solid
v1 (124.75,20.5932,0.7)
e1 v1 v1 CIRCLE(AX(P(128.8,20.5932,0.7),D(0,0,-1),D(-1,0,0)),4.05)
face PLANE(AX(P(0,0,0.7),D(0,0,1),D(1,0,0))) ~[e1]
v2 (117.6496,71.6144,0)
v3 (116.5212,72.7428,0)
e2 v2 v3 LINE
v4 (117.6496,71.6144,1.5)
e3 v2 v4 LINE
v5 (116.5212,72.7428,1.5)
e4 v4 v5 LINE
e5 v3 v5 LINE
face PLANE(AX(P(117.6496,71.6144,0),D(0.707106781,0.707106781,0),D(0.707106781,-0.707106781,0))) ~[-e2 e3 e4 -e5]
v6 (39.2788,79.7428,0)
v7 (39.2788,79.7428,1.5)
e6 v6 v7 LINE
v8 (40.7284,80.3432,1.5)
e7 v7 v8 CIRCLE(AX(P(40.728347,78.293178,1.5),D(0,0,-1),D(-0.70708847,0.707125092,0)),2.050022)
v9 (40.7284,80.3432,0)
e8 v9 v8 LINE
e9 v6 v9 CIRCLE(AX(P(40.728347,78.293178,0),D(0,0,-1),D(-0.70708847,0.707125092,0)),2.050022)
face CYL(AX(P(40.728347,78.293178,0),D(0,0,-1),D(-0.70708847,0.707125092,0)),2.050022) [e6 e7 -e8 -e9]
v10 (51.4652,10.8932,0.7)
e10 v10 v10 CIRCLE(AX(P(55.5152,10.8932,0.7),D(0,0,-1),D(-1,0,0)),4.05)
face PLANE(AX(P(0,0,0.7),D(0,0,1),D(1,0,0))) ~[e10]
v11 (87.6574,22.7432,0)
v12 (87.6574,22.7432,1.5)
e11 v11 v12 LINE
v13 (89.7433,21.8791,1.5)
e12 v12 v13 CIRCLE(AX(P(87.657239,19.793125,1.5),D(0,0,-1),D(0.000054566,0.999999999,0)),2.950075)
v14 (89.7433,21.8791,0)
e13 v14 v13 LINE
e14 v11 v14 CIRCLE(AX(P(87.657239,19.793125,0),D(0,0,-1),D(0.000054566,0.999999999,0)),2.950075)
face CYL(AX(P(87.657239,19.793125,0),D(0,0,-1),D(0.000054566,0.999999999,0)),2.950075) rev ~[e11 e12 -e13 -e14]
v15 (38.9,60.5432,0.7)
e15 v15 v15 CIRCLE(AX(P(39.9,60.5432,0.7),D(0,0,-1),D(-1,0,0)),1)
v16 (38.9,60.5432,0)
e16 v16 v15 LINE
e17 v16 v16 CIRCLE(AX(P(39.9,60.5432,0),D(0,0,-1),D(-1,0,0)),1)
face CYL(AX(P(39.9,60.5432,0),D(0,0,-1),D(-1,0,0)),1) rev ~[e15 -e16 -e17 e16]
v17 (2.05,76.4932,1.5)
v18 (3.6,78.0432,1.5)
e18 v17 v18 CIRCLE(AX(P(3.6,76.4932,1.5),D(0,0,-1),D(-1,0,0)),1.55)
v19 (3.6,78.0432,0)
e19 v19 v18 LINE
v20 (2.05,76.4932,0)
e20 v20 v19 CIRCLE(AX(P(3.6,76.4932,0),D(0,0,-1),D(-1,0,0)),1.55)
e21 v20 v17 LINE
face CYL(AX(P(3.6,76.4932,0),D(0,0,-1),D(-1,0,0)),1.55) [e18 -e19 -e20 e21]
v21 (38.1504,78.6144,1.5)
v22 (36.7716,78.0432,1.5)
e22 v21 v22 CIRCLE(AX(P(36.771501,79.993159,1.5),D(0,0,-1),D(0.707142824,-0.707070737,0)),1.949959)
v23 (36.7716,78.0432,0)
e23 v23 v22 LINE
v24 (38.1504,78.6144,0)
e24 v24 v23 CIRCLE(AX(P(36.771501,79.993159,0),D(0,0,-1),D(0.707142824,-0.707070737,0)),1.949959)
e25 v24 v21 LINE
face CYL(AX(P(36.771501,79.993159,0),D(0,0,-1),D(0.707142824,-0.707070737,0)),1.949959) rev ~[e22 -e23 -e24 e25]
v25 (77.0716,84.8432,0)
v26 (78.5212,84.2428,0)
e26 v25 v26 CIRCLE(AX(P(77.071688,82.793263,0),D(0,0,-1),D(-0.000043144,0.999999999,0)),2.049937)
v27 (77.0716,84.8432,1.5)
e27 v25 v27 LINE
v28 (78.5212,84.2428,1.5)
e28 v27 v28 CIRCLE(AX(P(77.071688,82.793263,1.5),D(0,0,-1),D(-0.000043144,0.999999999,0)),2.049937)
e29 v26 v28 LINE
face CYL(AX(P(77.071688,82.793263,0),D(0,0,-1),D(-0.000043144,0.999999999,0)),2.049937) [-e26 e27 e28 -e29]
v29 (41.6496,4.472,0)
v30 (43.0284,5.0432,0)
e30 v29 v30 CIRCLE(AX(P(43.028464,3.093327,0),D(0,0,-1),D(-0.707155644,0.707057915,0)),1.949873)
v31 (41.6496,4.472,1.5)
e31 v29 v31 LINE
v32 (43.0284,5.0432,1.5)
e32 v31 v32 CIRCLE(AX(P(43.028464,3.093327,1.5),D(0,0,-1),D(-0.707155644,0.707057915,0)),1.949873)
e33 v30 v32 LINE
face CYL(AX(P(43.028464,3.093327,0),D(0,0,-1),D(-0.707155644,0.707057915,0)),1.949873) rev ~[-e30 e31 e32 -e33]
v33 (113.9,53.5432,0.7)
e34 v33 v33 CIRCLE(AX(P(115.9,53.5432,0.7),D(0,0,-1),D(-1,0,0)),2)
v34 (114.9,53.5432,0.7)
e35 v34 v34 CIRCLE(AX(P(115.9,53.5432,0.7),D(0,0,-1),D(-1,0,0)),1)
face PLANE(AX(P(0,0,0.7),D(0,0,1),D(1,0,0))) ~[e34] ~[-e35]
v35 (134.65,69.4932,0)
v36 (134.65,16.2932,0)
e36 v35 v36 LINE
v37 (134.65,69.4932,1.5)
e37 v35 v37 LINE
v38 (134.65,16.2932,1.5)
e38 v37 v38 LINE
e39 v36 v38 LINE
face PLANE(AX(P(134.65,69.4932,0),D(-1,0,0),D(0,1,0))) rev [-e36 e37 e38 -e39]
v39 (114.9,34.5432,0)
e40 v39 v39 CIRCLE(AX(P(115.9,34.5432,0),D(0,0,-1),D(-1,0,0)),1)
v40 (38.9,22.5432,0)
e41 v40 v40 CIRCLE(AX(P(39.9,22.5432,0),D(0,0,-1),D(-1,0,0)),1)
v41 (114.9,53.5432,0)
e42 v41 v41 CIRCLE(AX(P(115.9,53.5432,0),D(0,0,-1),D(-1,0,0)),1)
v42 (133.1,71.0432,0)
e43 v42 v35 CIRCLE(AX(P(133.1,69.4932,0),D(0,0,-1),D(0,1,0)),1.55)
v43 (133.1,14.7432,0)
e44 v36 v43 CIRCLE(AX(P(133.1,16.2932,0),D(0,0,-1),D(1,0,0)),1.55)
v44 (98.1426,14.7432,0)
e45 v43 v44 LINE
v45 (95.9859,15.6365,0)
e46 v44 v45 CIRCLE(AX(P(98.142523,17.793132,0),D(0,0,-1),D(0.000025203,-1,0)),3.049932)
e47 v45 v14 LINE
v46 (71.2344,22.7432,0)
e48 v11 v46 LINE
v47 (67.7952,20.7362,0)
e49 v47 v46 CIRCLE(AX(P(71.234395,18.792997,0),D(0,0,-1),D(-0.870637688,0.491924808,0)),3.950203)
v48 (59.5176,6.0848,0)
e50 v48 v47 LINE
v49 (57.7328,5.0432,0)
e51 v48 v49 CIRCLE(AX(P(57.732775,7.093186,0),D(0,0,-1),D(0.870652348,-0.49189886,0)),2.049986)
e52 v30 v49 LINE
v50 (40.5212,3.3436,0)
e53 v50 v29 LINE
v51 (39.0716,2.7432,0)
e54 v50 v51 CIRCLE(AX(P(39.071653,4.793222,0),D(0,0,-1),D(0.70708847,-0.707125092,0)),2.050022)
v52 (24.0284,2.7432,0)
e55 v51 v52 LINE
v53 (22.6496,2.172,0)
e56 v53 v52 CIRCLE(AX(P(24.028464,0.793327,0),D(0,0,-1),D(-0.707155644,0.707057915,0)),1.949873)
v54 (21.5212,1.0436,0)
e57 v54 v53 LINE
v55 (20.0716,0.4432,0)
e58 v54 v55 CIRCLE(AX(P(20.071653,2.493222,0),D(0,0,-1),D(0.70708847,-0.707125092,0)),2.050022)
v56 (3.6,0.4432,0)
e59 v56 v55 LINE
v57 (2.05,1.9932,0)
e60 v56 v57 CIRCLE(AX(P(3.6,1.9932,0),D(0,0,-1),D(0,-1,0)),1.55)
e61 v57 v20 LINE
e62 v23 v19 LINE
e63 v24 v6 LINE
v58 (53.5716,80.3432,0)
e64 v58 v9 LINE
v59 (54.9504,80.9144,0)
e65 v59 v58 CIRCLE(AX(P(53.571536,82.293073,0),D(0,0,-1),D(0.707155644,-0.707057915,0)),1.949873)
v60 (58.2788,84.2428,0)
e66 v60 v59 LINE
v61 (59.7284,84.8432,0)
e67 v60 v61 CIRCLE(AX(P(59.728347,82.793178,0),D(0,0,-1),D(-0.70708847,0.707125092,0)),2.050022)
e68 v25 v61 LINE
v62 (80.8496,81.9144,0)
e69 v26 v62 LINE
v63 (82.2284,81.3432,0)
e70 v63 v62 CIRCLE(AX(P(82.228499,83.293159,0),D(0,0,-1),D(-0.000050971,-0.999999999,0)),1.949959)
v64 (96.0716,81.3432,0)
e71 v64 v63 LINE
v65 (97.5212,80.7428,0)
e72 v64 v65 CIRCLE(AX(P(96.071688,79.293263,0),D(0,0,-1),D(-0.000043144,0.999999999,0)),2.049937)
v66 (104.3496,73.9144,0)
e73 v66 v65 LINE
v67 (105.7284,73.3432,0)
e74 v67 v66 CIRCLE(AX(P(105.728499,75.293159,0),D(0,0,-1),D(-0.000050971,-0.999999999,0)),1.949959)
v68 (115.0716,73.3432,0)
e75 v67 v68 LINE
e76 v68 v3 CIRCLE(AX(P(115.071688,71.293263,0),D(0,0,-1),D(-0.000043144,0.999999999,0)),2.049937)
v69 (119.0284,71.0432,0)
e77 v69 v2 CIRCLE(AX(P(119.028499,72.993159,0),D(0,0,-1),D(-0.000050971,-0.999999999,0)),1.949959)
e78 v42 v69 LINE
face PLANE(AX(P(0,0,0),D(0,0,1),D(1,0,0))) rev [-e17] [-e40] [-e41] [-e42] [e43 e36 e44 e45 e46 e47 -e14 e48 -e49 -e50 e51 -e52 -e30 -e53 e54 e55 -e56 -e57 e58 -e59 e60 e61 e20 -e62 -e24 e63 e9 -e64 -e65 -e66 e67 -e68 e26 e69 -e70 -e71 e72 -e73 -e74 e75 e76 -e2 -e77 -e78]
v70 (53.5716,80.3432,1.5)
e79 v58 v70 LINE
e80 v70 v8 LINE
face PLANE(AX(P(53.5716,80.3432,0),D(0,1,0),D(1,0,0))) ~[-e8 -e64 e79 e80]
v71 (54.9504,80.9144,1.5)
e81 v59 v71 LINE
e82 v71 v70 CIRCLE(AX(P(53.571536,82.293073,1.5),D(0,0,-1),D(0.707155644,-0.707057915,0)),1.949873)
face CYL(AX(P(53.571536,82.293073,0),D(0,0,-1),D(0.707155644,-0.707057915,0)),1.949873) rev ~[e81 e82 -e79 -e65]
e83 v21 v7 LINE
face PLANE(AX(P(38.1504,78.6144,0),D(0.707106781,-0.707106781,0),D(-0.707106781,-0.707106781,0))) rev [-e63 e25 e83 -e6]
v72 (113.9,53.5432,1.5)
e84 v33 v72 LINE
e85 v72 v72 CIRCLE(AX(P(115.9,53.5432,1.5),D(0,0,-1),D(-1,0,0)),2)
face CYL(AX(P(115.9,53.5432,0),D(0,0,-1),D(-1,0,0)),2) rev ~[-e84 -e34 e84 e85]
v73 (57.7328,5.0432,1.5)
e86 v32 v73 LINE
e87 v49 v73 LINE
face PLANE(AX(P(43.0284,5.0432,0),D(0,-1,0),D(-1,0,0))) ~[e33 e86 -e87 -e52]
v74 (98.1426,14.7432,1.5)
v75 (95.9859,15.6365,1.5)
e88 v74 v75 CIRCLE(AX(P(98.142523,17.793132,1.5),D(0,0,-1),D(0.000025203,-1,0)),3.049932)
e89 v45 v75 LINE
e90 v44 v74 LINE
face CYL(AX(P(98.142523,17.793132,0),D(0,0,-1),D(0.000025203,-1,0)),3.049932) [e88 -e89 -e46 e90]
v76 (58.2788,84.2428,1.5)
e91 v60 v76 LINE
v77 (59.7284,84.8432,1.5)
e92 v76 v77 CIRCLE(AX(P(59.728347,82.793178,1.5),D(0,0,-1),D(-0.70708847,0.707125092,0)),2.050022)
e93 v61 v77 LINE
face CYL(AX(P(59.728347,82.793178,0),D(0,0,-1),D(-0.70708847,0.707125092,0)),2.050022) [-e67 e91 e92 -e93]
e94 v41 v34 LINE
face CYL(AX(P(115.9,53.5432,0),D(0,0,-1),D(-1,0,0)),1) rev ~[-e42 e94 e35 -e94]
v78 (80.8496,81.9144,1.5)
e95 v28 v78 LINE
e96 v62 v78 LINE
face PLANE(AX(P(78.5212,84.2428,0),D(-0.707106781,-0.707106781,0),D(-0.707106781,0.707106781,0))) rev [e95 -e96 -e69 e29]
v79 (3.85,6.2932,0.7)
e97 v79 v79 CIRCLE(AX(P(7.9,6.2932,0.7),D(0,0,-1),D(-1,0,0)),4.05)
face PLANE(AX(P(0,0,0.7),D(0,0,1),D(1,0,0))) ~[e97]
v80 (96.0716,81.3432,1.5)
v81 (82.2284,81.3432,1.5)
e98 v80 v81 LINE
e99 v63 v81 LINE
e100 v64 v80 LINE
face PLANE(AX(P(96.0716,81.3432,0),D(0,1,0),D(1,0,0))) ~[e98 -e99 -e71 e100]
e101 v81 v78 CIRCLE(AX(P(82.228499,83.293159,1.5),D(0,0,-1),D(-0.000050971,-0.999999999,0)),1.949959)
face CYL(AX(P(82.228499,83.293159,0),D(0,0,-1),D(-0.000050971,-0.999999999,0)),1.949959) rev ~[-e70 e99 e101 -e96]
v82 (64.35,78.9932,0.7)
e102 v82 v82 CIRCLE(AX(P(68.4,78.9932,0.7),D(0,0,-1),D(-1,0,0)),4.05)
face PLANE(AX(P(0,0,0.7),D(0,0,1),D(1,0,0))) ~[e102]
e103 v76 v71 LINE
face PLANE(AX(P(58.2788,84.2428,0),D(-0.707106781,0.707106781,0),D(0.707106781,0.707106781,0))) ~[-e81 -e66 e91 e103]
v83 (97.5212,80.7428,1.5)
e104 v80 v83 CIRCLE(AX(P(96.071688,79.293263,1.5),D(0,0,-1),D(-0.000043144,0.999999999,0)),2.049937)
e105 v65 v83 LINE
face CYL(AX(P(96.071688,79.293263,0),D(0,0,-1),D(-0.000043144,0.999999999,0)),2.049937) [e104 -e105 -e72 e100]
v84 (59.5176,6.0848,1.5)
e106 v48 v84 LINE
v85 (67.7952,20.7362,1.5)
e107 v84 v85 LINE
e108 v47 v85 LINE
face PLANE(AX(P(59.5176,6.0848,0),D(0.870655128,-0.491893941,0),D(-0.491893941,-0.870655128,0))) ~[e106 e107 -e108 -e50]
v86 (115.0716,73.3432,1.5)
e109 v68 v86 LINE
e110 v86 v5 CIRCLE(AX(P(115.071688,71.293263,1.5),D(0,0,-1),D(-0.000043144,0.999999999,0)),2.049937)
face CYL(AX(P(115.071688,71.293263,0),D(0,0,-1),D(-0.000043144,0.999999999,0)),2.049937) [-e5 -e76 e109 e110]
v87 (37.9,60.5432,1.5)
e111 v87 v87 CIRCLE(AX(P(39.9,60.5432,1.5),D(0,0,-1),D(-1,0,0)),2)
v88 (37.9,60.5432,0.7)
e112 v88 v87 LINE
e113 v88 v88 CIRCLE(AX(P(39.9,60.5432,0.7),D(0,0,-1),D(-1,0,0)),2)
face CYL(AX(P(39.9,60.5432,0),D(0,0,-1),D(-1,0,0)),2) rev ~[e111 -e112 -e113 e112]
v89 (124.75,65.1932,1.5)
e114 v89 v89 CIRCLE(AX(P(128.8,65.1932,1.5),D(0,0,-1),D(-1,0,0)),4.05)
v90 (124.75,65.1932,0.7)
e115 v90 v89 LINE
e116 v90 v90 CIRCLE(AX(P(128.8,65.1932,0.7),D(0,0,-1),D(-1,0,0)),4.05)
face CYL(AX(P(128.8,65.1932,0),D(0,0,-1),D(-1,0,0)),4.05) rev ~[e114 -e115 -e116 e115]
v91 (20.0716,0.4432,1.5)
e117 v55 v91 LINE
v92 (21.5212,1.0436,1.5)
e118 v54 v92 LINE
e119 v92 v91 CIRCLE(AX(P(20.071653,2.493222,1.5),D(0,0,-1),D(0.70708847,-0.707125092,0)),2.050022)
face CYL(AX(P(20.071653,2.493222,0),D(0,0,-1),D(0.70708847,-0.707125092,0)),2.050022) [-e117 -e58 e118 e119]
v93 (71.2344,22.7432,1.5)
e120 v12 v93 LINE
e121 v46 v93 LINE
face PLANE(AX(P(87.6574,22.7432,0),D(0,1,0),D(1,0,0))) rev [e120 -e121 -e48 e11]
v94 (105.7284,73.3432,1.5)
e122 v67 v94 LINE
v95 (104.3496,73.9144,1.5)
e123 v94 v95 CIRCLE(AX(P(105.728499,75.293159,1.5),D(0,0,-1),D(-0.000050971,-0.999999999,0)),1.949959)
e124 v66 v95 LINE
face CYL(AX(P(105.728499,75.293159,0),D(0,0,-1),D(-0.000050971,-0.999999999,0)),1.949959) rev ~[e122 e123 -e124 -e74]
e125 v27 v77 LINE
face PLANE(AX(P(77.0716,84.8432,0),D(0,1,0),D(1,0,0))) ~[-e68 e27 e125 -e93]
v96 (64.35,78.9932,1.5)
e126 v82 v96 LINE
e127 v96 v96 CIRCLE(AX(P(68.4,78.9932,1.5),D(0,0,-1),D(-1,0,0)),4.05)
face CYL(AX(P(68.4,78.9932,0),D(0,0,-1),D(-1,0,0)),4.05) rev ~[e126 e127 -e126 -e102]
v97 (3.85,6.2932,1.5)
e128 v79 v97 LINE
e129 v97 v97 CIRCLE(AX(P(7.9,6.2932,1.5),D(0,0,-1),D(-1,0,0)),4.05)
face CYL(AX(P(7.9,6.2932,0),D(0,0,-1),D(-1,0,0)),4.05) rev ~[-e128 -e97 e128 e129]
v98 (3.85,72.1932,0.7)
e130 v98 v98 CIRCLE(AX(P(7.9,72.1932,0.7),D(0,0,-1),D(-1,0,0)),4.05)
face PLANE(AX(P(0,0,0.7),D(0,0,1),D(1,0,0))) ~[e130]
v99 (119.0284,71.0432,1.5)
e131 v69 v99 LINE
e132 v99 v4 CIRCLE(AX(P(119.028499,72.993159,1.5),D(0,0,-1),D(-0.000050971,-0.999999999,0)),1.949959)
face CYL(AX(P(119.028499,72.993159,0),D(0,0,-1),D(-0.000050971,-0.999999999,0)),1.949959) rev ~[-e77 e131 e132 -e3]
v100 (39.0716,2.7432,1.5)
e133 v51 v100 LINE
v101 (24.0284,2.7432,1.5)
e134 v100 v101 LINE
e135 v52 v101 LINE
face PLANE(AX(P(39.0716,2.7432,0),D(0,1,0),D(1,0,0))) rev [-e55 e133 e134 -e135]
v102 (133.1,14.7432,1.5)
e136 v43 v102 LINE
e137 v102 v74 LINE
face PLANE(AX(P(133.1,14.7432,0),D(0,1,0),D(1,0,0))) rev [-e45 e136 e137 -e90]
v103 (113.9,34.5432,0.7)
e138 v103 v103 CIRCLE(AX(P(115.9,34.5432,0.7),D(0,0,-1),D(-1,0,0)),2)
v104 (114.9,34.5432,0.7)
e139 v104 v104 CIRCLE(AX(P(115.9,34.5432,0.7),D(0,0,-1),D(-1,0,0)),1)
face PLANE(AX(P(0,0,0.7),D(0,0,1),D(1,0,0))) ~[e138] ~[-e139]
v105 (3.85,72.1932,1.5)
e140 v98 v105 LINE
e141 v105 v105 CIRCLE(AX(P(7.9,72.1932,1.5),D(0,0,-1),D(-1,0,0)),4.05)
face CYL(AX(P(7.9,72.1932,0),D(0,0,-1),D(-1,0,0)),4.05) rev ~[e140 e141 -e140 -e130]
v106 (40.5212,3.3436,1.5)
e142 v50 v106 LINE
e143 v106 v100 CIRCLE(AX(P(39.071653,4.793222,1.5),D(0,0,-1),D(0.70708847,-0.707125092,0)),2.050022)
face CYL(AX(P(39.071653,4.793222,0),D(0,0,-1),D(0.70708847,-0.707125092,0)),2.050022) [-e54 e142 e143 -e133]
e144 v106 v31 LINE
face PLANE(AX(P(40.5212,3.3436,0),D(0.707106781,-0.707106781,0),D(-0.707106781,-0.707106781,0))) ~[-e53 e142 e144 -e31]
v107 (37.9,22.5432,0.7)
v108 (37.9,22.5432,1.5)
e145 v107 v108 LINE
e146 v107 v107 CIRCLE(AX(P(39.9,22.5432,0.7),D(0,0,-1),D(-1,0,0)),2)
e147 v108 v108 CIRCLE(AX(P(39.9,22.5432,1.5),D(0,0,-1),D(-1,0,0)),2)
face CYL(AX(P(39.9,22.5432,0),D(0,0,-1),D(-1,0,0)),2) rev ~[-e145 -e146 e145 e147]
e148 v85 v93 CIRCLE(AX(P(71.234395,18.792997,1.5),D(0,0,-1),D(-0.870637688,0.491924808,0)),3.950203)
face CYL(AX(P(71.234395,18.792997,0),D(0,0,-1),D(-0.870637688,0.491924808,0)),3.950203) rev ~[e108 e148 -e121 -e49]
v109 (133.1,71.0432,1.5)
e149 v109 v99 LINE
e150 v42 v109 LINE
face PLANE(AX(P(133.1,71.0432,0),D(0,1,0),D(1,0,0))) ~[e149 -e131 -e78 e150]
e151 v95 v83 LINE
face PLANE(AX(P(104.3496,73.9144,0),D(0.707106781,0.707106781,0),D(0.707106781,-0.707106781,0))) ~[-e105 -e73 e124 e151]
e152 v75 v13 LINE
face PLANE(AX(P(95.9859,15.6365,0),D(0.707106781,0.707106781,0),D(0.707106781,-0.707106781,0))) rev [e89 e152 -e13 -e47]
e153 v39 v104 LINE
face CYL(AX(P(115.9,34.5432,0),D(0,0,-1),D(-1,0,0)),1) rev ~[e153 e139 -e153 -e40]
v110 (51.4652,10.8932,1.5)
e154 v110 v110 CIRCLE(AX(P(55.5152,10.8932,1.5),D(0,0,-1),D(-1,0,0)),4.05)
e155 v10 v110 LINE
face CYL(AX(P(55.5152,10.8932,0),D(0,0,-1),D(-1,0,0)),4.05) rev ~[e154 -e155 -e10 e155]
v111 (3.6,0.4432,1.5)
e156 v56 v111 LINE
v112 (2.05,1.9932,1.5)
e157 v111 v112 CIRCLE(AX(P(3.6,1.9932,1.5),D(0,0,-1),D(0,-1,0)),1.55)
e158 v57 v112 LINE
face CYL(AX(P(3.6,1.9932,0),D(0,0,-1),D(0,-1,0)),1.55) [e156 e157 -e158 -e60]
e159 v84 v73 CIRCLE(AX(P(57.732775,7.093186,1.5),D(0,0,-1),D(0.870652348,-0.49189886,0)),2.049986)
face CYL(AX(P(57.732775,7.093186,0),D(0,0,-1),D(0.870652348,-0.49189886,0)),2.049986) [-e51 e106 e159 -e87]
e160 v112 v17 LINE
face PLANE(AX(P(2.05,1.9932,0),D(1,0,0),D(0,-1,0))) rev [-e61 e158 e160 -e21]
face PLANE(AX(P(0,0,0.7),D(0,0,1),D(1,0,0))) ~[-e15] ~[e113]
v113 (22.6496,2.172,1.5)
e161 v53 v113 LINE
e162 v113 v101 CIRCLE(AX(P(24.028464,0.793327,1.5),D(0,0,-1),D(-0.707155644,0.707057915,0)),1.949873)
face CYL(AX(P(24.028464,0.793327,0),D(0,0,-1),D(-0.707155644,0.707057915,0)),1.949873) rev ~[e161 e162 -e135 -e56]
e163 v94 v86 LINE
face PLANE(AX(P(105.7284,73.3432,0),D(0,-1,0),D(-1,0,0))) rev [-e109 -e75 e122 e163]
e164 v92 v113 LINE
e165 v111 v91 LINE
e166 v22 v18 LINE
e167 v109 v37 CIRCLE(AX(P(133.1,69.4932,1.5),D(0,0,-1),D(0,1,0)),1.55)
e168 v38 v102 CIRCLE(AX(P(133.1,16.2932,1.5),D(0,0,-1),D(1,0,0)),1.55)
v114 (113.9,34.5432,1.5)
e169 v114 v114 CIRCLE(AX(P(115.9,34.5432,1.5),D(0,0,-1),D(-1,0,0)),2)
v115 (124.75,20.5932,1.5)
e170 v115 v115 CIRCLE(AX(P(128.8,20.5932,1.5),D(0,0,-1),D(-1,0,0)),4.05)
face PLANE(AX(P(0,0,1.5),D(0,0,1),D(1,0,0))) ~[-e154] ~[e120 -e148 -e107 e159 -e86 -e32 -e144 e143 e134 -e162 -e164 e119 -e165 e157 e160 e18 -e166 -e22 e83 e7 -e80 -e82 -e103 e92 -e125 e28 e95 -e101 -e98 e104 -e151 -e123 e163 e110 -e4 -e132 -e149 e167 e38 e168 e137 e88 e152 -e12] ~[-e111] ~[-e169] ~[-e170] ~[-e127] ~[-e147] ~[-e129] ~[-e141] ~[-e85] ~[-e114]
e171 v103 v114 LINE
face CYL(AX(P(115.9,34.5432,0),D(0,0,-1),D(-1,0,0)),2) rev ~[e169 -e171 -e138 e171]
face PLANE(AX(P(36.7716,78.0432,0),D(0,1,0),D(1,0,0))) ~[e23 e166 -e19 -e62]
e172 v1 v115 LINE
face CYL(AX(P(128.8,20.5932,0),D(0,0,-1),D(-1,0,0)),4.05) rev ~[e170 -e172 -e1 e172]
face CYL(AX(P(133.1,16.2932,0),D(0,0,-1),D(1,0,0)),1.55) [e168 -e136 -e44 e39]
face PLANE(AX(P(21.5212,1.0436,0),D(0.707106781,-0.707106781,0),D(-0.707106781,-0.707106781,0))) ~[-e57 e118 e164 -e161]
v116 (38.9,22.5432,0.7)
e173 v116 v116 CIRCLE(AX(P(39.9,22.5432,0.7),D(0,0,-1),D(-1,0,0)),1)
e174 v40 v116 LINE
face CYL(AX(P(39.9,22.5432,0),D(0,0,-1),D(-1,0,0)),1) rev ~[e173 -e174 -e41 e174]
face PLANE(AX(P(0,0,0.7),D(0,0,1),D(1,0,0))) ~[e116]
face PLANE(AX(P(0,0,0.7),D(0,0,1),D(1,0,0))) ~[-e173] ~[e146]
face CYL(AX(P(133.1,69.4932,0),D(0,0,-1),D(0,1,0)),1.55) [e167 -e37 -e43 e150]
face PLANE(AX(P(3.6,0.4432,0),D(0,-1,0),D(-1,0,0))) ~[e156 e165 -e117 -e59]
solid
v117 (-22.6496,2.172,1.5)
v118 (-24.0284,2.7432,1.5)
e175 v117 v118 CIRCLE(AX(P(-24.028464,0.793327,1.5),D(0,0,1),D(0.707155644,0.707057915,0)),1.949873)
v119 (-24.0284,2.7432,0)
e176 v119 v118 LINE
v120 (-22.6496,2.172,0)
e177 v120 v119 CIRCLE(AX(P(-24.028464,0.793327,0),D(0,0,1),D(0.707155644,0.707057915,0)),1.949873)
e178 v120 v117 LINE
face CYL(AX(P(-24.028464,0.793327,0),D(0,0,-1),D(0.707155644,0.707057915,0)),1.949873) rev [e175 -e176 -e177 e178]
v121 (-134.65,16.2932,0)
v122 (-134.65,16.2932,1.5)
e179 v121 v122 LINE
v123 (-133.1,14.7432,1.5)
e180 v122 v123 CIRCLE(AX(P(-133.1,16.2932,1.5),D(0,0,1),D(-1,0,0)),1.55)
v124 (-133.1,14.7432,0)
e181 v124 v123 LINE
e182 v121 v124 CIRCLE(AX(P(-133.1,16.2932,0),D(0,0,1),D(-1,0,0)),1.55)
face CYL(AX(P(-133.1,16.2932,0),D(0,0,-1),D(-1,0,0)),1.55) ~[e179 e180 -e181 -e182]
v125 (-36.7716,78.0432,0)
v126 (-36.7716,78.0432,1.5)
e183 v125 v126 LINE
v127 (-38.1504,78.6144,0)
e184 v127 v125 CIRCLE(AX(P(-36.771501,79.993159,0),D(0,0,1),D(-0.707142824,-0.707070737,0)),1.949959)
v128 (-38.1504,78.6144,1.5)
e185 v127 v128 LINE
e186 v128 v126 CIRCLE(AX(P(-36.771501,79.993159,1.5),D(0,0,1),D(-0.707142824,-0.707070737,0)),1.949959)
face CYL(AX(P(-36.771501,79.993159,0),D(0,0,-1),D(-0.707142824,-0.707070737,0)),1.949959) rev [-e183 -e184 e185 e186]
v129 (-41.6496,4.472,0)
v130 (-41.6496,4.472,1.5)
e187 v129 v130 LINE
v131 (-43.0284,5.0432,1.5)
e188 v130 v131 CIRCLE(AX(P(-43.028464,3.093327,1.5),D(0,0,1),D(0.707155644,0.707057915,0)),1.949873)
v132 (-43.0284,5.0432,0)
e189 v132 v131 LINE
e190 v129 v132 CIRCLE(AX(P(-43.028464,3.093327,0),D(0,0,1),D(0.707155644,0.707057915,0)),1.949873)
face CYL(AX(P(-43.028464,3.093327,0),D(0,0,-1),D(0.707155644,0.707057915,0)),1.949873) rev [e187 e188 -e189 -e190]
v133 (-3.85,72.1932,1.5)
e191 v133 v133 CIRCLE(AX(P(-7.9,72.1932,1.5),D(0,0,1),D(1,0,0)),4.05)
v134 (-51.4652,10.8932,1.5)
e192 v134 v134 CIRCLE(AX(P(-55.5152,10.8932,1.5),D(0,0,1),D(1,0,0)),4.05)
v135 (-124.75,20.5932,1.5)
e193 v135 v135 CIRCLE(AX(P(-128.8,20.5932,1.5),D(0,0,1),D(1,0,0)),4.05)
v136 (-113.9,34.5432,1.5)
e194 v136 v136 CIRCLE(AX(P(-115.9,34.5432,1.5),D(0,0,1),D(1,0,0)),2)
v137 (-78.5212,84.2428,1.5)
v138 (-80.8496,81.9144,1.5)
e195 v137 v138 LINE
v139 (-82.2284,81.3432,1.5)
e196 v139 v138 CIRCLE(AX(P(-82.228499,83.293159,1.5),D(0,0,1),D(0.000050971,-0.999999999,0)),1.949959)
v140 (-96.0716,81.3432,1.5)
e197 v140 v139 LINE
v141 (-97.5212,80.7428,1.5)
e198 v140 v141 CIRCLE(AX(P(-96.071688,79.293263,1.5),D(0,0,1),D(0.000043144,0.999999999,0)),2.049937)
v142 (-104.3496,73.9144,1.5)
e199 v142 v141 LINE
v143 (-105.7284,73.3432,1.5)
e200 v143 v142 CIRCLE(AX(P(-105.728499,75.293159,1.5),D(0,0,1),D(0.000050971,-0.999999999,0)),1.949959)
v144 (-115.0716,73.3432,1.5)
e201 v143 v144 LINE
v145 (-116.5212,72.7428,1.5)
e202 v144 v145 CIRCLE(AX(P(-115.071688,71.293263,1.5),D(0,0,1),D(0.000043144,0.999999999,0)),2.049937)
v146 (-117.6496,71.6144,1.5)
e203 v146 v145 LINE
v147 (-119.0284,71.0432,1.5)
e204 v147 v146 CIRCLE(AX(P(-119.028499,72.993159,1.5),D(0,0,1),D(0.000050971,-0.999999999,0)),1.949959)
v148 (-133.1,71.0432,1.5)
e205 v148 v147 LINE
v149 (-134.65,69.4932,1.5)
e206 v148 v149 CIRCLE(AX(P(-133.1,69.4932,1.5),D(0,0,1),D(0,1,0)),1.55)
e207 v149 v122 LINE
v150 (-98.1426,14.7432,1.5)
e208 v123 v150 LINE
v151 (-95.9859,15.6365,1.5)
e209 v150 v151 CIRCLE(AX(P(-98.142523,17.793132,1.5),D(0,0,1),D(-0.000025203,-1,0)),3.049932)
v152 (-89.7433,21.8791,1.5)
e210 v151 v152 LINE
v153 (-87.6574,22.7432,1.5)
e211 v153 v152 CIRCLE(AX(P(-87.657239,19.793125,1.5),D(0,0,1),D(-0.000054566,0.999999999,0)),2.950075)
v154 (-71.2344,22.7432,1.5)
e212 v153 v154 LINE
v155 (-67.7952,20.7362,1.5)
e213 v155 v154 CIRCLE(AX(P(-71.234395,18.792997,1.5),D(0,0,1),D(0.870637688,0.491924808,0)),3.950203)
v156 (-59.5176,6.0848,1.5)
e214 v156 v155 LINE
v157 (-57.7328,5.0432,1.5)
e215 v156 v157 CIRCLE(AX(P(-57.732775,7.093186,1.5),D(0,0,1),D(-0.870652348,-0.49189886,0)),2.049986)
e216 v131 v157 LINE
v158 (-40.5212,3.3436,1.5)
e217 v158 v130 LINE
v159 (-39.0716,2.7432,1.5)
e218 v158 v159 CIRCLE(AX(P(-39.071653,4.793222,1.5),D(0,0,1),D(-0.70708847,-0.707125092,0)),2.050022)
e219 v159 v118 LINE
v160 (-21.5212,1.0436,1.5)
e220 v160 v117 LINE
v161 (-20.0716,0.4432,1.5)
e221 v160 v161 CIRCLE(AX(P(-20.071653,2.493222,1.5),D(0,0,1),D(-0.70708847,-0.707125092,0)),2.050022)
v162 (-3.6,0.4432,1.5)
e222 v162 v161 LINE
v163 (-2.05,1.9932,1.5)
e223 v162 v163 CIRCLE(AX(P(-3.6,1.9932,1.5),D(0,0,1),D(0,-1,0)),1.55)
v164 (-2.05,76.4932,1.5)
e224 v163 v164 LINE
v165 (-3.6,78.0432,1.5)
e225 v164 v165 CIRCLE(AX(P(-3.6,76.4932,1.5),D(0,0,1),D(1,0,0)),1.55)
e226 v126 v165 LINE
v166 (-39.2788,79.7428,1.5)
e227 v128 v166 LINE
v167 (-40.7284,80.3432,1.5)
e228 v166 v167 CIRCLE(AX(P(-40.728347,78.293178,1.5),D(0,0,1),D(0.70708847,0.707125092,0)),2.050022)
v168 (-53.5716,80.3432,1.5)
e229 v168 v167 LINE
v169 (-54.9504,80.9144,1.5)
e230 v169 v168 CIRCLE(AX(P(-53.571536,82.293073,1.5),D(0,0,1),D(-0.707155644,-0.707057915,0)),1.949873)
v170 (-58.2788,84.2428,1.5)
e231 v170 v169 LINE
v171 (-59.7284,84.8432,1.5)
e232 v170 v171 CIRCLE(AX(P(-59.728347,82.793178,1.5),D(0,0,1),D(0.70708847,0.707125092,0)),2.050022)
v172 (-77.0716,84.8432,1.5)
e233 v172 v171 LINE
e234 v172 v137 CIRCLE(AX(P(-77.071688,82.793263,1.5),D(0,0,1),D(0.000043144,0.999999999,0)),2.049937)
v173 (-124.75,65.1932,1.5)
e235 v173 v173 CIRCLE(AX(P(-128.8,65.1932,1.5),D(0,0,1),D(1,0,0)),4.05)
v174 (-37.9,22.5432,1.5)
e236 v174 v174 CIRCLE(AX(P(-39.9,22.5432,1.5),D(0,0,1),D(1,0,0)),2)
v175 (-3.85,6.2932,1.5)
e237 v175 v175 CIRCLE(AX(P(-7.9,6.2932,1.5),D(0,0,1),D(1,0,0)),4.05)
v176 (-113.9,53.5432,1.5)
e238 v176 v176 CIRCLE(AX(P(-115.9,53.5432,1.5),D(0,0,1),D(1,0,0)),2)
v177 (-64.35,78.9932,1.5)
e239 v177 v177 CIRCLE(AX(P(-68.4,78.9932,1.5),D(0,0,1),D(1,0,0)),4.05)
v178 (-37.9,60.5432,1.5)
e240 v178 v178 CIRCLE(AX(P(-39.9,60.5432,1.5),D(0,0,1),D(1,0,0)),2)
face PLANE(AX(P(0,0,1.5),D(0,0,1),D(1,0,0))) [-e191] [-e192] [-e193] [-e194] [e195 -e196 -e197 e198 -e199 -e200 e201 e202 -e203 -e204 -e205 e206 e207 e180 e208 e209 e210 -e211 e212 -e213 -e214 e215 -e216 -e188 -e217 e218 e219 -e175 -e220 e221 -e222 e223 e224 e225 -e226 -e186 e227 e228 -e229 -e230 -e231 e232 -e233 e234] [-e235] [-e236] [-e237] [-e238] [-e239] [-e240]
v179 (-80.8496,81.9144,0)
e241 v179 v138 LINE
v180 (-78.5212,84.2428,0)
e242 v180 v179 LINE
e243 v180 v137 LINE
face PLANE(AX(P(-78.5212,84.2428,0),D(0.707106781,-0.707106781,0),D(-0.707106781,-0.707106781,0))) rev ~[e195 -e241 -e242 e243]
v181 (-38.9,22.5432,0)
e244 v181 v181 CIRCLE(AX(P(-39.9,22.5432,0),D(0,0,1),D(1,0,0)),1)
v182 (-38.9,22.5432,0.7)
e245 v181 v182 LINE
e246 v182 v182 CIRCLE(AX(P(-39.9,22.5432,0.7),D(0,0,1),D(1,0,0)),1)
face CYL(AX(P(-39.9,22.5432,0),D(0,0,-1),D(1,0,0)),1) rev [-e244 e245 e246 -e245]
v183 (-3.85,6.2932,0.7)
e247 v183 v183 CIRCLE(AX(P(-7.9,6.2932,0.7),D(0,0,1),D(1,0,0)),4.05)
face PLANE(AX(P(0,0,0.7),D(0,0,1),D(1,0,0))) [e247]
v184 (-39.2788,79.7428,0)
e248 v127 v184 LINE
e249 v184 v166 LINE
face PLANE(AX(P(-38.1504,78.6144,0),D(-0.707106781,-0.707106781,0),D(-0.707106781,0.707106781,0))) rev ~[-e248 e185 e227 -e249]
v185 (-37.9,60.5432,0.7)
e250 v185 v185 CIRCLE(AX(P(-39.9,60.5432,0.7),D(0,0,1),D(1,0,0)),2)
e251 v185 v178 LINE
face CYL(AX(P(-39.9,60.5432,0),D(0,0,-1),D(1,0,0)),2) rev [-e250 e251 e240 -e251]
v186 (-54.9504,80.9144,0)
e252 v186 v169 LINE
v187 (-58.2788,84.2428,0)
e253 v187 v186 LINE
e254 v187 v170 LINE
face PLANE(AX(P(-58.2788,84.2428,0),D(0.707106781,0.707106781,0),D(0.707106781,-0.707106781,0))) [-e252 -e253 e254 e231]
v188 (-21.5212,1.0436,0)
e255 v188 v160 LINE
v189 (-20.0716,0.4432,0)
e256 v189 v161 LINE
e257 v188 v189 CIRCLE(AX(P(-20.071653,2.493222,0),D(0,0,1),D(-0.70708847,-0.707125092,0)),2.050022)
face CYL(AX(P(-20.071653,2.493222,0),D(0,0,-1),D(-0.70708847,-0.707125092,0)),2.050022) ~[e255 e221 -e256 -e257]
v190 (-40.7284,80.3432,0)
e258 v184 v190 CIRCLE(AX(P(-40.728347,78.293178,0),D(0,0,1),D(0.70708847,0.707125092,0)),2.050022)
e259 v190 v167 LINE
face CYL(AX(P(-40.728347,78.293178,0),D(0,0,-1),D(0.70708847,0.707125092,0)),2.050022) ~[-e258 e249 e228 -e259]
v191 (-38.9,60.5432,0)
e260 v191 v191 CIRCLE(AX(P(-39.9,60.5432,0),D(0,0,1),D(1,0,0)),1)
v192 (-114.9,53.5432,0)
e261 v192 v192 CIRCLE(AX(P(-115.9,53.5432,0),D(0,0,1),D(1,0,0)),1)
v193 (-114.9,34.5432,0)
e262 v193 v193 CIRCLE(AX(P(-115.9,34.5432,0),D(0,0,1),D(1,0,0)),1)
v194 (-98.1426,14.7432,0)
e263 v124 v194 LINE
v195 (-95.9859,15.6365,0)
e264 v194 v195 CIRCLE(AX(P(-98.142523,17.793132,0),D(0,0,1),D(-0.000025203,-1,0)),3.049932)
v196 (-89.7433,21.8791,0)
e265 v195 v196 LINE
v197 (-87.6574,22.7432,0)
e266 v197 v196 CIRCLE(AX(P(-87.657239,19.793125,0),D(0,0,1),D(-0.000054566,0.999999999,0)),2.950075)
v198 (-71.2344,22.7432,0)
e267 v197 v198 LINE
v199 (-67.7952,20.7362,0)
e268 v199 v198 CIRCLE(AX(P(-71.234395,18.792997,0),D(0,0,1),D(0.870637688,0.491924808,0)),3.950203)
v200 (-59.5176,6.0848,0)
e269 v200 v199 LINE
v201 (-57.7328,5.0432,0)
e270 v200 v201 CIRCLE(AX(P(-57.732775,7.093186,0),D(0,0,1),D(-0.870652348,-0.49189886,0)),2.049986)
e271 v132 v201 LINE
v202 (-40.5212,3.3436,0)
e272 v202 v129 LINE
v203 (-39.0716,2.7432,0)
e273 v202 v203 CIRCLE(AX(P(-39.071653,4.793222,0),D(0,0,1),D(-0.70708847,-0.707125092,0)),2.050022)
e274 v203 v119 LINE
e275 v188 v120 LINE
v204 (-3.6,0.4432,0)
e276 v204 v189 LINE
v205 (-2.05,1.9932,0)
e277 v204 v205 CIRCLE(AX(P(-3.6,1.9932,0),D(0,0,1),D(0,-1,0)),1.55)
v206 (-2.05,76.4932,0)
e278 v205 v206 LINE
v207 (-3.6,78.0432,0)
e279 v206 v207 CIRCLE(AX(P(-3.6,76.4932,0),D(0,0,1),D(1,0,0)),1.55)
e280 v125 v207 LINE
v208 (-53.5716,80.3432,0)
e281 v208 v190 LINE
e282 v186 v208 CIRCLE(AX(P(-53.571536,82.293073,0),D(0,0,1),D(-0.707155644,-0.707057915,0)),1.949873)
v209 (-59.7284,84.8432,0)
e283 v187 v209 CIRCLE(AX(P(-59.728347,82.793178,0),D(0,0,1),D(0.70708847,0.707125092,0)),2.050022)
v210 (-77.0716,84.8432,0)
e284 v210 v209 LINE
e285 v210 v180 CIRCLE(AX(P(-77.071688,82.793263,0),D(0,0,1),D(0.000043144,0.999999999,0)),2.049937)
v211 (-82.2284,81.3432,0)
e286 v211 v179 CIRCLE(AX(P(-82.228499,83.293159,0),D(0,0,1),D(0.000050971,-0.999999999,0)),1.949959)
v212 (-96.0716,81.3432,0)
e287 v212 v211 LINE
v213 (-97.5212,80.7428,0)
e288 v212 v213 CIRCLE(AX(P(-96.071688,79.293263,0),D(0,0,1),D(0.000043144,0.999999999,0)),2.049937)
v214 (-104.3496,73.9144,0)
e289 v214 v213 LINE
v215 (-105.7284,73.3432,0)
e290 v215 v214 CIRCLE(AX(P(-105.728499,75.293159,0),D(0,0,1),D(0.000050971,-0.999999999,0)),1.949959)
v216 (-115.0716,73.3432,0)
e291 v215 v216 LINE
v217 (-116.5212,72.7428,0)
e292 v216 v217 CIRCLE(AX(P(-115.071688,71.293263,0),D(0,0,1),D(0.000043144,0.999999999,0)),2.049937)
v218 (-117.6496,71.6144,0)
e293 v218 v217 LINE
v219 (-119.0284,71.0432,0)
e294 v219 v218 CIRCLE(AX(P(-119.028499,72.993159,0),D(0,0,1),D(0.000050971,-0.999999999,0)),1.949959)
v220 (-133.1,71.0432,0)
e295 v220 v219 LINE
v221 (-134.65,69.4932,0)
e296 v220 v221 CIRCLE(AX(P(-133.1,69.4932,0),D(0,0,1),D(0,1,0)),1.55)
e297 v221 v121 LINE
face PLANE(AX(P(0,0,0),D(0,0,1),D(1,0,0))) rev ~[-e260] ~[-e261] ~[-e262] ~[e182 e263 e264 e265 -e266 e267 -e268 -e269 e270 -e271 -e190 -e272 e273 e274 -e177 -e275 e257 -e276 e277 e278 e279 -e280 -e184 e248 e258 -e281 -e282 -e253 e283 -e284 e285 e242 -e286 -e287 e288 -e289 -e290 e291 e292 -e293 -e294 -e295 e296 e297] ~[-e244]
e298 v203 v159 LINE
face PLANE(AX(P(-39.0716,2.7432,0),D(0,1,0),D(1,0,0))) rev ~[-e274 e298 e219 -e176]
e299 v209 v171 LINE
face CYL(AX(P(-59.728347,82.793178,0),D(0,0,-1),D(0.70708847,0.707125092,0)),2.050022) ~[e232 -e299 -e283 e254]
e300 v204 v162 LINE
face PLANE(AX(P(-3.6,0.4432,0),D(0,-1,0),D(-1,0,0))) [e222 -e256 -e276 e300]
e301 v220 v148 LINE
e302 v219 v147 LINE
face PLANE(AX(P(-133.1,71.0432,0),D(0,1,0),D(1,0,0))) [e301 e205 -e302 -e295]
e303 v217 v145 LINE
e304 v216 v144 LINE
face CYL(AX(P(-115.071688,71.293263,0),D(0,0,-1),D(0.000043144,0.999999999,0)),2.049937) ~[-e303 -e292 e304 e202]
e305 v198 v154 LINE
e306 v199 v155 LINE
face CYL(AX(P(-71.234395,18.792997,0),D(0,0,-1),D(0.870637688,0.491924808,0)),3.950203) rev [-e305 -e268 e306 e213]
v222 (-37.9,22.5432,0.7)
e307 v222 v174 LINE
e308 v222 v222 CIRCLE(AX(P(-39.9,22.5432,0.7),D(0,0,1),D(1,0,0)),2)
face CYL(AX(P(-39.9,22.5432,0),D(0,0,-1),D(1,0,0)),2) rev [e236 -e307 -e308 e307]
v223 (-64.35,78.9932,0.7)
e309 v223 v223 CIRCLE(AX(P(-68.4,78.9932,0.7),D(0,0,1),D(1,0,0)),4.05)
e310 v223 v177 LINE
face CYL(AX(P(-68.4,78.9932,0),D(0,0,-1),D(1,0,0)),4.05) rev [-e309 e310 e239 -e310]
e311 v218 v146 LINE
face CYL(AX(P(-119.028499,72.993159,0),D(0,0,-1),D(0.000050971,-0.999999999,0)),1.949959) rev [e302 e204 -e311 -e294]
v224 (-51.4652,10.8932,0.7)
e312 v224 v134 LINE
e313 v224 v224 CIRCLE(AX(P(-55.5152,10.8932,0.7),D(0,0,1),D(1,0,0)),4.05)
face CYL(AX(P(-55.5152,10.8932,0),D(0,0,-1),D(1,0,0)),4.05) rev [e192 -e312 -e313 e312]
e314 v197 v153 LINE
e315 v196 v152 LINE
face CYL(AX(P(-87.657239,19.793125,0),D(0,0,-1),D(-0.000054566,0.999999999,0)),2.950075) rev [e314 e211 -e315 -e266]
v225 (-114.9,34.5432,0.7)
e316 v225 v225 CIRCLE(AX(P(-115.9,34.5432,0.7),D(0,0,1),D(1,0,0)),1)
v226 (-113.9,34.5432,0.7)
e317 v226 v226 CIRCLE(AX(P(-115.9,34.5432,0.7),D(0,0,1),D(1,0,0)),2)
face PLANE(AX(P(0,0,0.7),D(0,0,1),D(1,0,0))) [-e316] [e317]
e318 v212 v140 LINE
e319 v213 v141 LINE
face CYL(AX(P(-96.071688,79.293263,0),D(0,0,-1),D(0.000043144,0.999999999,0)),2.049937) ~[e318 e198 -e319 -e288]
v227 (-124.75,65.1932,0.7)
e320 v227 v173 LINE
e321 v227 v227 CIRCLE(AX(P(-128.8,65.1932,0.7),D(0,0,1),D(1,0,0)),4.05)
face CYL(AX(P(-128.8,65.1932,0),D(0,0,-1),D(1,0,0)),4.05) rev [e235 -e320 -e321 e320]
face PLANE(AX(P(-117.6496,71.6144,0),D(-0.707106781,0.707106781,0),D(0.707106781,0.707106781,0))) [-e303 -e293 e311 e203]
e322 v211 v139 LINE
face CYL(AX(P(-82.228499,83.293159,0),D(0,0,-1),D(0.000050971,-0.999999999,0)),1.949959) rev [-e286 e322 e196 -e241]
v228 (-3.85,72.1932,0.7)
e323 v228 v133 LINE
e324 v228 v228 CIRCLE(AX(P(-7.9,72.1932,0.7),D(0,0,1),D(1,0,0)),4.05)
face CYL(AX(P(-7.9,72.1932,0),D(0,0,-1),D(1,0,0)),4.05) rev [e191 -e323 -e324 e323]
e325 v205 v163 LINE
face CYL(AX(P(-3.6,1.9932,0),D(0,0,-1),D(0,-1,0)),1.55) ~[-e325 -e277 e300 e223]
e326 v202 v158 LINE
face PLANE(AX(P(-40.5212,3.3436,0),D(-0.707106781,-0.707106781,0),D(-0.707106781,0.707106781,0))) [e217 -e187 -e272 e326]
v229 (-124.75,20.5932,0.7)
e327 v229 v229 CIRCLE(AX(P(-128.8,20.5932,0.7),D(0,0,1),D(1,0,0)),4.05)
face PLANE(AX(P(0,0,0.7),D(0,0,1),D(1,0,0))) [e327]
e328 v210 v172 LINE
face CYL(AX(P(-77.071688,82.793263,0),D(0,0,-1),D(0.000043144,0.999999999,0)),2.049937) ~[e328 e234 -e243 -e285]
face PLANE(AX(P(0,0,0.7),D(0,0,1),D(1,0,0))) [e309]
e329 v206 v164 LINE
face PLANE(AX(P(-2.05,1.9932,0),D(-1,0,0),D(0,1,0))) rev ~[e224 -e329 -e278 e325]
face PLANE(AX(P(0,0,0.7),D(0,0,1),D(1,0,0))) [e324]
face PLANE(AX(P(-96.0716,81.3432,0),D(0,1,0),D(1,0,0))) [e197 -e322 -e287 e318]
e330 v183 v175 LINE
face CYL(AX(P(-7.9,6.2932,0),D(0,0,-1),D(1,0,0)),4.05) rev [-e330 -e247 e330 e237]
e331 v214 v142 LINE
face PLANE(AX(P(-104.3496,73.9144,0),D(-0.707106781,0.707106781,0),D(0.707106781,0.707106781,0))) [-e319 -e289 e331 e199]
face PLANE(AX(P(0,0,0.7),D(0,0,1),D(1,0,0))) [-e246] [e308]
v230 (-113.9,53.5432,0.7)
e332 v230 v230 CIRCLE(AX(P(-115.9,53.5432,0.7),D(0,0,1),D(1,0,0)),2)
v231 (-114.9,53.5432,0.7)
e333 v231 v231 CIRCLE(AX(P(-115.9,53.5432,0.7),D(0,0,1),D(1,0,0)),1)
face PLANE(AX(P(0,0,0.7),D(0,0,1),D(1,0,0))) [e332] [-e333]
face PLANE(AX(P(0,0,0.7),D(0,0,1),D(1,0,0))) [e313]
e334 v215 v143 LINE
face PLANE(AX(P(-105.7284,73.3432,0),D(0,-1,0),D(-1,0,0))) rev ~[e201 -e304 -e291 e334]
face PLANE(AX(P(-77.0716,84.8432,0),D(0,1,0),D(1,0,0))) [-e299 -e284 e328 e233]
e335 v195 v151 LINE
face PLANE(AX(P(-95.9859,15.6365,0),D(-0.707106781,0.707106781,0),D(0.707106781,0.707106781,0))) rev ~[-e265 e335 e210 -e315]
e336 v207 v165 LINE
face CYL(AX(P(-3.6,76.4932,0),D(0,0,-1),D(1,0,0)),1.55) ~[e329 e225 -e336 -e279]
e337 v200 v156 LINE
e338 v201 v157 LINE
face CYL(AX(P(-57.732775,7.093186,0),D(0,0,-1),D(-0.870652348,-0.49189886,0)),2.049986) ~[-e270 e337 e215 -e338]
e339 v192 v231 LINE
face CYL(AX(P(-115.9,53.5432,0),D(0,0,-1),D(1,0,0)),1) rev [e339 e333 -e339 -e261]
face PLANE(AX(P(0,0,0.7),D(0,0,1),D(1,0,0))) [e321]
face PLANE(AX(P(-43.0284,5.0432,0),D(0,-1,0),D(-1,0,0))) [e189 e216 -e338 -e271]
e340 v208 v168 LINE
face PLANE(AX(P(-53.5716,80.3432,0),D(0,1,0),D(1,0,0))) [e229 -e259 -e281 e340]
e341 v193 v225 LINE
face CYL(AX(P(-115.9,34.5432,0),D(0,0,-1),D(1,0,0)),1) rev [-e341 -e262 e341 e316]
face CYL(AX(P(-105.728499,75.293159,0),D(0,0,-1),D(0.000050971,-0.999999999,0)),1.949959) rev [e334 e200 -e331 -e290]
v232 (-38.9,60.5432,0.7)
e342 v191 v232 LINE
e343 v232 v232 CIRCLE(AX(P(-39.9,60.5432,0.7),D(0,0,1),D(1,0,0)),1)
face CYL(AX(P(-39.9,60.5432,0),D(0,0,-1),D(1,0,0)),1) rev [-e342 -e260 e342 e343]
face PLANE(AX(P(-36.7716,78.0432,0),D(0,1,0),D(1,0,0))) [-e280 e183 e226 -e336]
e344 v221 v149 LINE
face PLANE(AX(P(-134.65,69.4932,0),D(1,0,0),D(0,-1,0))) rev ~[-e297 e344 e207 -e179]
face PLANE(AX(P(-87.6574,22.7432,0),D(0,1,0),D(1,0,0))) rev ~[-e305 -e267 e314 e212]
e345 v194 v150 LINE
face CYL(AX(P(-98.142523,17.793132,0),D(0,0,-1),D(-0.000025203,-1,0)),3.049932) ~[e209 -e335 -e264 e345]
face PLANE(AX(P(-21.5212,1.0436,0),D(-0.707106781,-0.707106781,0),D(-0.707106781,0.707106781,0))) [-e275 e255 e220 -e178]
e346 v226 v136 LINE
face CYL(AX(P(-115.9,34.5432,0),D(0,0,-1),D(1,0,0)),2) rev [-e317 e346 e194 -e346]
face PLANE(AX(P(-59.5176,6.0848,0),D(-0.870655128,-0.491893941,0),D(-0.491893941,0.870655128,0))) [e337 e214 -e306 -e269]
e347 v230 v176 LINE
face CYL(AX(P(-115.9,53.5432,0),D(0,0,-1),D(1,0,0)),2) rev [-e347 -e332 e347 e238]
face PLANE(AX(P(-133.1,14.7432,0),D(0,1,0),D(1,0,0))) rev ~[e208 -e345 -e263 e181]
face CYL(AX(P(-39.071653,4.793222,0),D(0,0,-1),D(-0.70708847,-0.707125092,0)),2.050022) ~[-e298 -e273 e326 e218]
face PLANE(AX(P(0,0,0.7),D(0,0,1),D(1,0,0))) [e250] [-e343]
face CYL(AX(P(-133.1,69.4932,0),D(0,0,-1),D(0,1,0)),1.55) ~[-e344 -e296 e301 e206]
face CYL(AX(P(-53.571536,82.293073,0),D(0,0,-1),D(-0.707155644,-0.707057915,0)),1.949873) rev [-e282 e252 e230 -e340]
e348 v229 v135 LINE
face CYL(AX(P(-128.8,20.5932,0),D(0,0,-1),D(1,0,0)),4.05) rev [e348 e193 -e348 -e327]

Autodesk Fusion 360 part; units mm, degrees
sketch "mriya-bottom-plate" plane through (0, 0, 0) normal (0, 0, 1) x (1, 0, 0)
  line L0 (-96.0213, 15.6719) -> (-89.7787, 21.9145)
  line L1 (-21.4858, 1.079) -> (-22.6142, 2.2074)
  line L2 (-133.1, 14.7932) -> (-98.1426, 14.7932)
  line L3 (-39.0716, 2.7932) -> (-24.0284, 2.7932)
  line L4 (-3.6, 0.4932) -> (-20.0716, 0.4932)
  line L5 (-59.4741, 6.1094) -> (-67.7517, 20.7608)
  line L6 (-40.4858, 3.379) -> (-41.6142, 4.5074)
  line L7 (-117.6142, 71.579) -> (-116.4858, 72.7074)
  line L8 (-96.0716, 81.2932) -> (-82.2284, 81.2932)
  line L9 (-133.1, 70.9932) -> (-119.0284, 70.9932)
  line L10 (-87.6574, 22.7932) -> (-71.2344, 22.7932)
  line L11 (-43.0284, 5.0932) -> (-57.7328, 5.0932)
  line L12 (-104.3142, 73.879) -> (-97.4858, 80.7074)
  line L13 (-77.0716, 84.7932) -> (-59.7284, 84.7932)
  line L14 (-53.5716, 80.2932) -> (-40.7284, 80.2932)
  line L15 (-105.7284, 73.2932) -> (-115.0716, 73.2932)
  line L16 (-78.4858, 84.2074) -> (-80.8142, 81.879)
  line L17 (-58.3142, 84.2074) -> (-54.9858, 80.879)
  line L18 (-134.6, 69.4932) -> (-134.6, 16.2932)
  line L19 (-38.1858, 78.579) -> (-39.3142, 79.7074)
  circle A0 centre (-115.9, 53.5432) radius 1
  circle A1 centre (-115.9, 34.5432) radius 1
  circle A2 centre (-39.9, 22.5432) radius 1
  circle A3 centre (-39.9, 60.5432) radius 1
  arc A4 (-38.1858, 78.579) -> (-36.7716, 77.9932) centre (-36.7716, 79.9932) ccw
  arc A5 (-39.3142, 79.7074) -> (-40.7284, 80.2932) centre (-40.7284, 78.2932) ccw
  arc A6 (-54.9858, 80.879) -> (-53.5716, 80.2932) centre (-53.5716, 82.2931) ccw
  arc A7 (-58.3142, 84.2074) -> (-59.7284, 84.7932) centre (-59.7284, 82.7932) ccw
  arc A8 (-77.0716, 84.7932) -> (-78.4858, 84.2074) centre (-77.0716, 82.7933) ccw
  arc A9 (-82.2284, 81.2932) -> (-80.8142, 81.879) centre (-82.2284, 83.2932) ccw
  arc A10 (-96.0716, 81.2932) -> (-97.4858, 80.7074) centre (-96.0716, 79.2933) ccw
  arc A11 (-105.7284, 73.2932) -> (-104.3142, 73.879) centre (-105.7284, 75.2932) ccw
  arc A12 (-115.0716, 73.2932) -> (-116.4858, 72.7074) centre (-115.0716, 71.2933) ccw
  arc A13 (-119.0284, 70.9932) -> (-117.6142, 71.579) centre (-119.0284, 72.9932) ccw
  arc A14 (-133.1, 70.9932) -> (-134.6, 69.4932) centre (-133.1, 69.4932) ccw
  arc A15 (-134.6, 16.2932) -> (-133.1, 14.7932) centre (-133.1, 16.2932) ccw
  arc A16 (-98.1426, 14.7932) -> (-96.0213, 15.6719) centre (-98.1426, 17.7931) ccw
  arc A17 (-87.6574, 22.7932) -> (-89.7787, 21.9145) centre (-87.6573, 19.7931) ccw
  arc A18 (-67.7517, 20.7608) -> (-71.2344, 22.7932) centre (-71.2344, 18.793) ccw
  arc A19 (-59.4741, 6.1094) -> (-57.7328, 5.0932) centre (-57.7328, 7.0932) ccw
  arc A20 (-41.6142, 4.5074) -> (-43.0284, 5.0932) centre (-43.0284, 3.0933) ccw
  arc A21 (-40.4858, 3.379) -> (-39.0716, 2.7932) centre (-39.0716, 4.7932) ccw
  arc A22 (-22.6142, 2.2074) -> (-24.0284, 2.7932) centre (-24.0284, 0.7933) ccw
  arc A23 (-21.4858, 1.079) -> (-20.0716, 0.4932) centre (-20.0716, 2.4932) ccw
  arc A24 (-3.6, 0.4932) -> (-2.1, 1.9932) centre (-3.6, 1.9932) ccw
  line L20 (-2.1, 1.9932) -> (-2.1, 76.4932)
  line L21 (-36.7716, 77.9932) -> (-3.6, 77.9932)
  arc A25 (-2.1, 76.4932) -> (-3.6, 77.9932) centre (-3.6, 76.4932) ccw
  circle A26 centre (-115.9, 53.5432) radius 2
  circle A27 centre (-115.9, 34.5432) radius 2
  circle A28 centre (-39.9, 22.5432) radius 2
  circle A29 centre (-39.9, 60.5432) radius 2
  circle A30 centre (-128.8, 20.5932) radius 4.05
  circle A31 centre (-128.8, 65.1932) radius 4.05
  circle A32 centre (-68.4, 78.9932) radius 4.05
  circle A33 centre (-7.9, 72.1932) radius 4.05
  circle A34 centre (-7.9, 6.2932) radius 4.05
  circle A35 centre (-55.5152, 10.8932) radius 4.05
  arc A36 (-54.9504, 80.9144) -> (-53.5716, 80.3432) centre (-53.5716, 82.2931) ccw
  line L22 (-53.5716, 80.3432) -> (-40.7284, 80.3432)
  arc A37 (-39.2788, 79.7428) -> (-40.7284, 80.3432) centre (-40.7284, 78.2932) ccw
  line L23 (-38.1504, 78.6144) -> (-39.2788, 79.7428)
  arc A38 (-38.1504, 78.6144) -> (-36.7716, 78.0432) centre (-36.7716, 79.9932) ccw
  line L24 (-36.7716, 78.0432) -> (-3.6, 78.0432)
  arc A39 (-2.05, 76.4932) -> (-3.6, 78.0432) centre (-3.6, 76.4932) ccw
  line L25 (-2.05, 1.9932) -> (-2.05, 76.4932)
  arc A40 (-3.6, 0.4432) -> (-2.05, 1.9932) centre (-3.6, 1.9932) ccw
  line L26 (-3.6, 0.4432) -> (-20.0716, 0.4432)
  arc A41 (-21.5212, 1.0436) -> (-20.0716, 0.4432) centre (-20.0716, 2.4932) ccw
  line L27 (-21.5212, 1.0436) -> (-22.6496, 2.172)
  arc A42 (-22.6496, 2.172) -> (-24.0284, 2.7432) centre (-24.0284, 0.7933) ccw
  line L28 (-39.0716, 2.7432) -> (-24.0284, 2.7432)
  arc A43 (-40.5212, 3.3436) -> (-39.0716, 2.7432) centre (-39.0716, 4.7932) ccw
  line L29 (-40.5212, 3.3436) -> (-41.6496, 4.472)
  arc A44 (-41.6496, 4.472) -> (-43.0284, 5.0432) centre (-43.0284, 3.0933) ccw
  line L30 (-43.0284, 5.0432) -> (-57.7328, 5.0432)
  arc A45 (-59.5176, 6.0848) -> (-57.7328, 5.0432) centre (-57.7328, 7.0932) ccw
  line L31 (-59.5176, 6.0848) -> (-67.7952, 20.7362)
  arc A46 (-67.7952, 20.7362) -> (-71.2344, 22.7432) centre (-71.2344, 18.793) ccw
  line L32 (-87.6574, 22.7432) -> (-71.2344, 22.7432)
  arc A47 (-87.6574, 22.7432) -> (-89.7433, 21.8791) centre (-87.6573, 19.7931) ccw
  line L33 (-95.9859, 15.6365) -> (-89.7433, 21.8791)
  arc A48 (-98.1426, 14.7432) -> (-95.9859, 15.6365) centre (-98.1426, 17.7931) ccw
  line L34 (-133.1, 14.7432) -> (-98.1426, 14.7432)
  arc A49 (-134.65, 16.2932) -> (-133.1, 14.7432) centre (-133.1, 16.2932) ccw
  line L35 (-134.65, 69.4932) -> (-134.65, 16.2932)
  arc A50 (-133.1, 71.0432) -> (-134.65, 69.4932) centre (-133.1, 69.4932) ccw
  line L36 (-133.1, 71.0432) -> (-119.0284, 71.0432)
  arc A51 (-119.0284, 71.0432) -> (-117.6496, 71.6144) centre (-119.0284, 72.9932) ccw
  line L37 (-117.6496, 71.6144) -> (-116.5212, 72.7428)
  arc A52 (-115.0716, 73.3432) -> (-116.5212, 72.7428) centre (-115.0716, 71.2933) ccw
  line L38 (-105.7284, 73.3432) -> (-115.0716, 73.3432)
  arc A53 (-105.7284, 73.3432) -> (-104.3496, 73.9144) centre (-105.7284, 75.2932) ccw
  line L39 (-104.3496, 73.9144) -> (-97.5212, 80.7428)
  arc A54 (-96.0716, 81.3432) -> (-97.5212, 80.7428) centre (-96.0716, 79.2933) ccw
  line L40 (-96.0716, 81.3432) -> (-82.2284, 81.3432)
  arc A55 (-82.2284, 81.3432) -> (-80.8496, 81.9144) centre (-82.2284, 83.2932) ccw
  line L41 (-78.5212, 84.2428) -> (-80.8496, 81.9144)
  arc A56 (-77.0716, 84.8432) -> (-78.5212, 84.2428) centre (-77.0716, 82.7933) ccw
  line L42 (-77.0716, 84.8432) -> (-59.7284, 84.8432)
  arc A57 (-58.2788, 84.2428) -> (-59.7284, 84.8432) centre (-59.7284, 82.7932) ccw
  line L43 (-58.2788, 84.2428) -> (-54.9504, 80.9144)
  dimension "d1" = 2
  dimension "d2" = 2
  dimension "d4" = 2
  dimension "d5" = 2
  dimension "d15" = 4
  dimension "d16" = 4
  dimension "d17" = 4
  dimension "d18" = 4
  dimension "d19" = 8.1
  dimension "d20" = 8.1
  dimension "d21" = 8.1
  dimension "d22" = 8.1
  dimension "d23" = 8.1
  dimension "d24" = 8.1
  dimension "d25" = 5.8
  dimension "d26" = 5.8
  dimension "d27" = 5.8
  dimension "d28" = 5.8
  dimension "d29" = 5.8
  dimension "d30" = 5.8
  dimension "d31" = 5.8
  dimension "d32" = 5.8
  dimension "d33" = 5.8
  dimension "d34" = 5.8
  dimension "d35" = 5.8
  dimension "d42" = -0.05
extrude "Extrude1" add sketch "mriya-bottom-plate" along normal blind 1.5 contours L0 L1 L2 L3 L4 L5 L6 L7 L8 L9 L10 L11 L12 L13 L14 L15 L16 L17 L18 L19 A4 A5 A6 A7 A8 A9 A10 A11 A12 A13 A14 A15 A16 A17 A18 A19 A20 A21 A22 A23 A24 L20 L21 A25 | A36 L22 A37 L23 A38 L24 A39 L25 A40 L26 A41 L27 A42 L28 A43 L29 A44 L30 A45 L31 A46 L32 A47 L33 A48 L34 A49 L35 A50 L36 A51 L37 A52 L38 A53 L39 A54 L40 A55 L41 A56 L42 A57 L43 makes body 1
extrude "Extrude2" add sketch "mriya-bottom-plate" along normal blind 0.7 contours A26 | A27 | A28 | A29 | A30 | A31 | A32 | A33 | A34 | A35 bodies 1
mirror "Mirror1" about plane through (0, 0, 0) normal (1, 0, 0) of bodies 1 makes body 2
